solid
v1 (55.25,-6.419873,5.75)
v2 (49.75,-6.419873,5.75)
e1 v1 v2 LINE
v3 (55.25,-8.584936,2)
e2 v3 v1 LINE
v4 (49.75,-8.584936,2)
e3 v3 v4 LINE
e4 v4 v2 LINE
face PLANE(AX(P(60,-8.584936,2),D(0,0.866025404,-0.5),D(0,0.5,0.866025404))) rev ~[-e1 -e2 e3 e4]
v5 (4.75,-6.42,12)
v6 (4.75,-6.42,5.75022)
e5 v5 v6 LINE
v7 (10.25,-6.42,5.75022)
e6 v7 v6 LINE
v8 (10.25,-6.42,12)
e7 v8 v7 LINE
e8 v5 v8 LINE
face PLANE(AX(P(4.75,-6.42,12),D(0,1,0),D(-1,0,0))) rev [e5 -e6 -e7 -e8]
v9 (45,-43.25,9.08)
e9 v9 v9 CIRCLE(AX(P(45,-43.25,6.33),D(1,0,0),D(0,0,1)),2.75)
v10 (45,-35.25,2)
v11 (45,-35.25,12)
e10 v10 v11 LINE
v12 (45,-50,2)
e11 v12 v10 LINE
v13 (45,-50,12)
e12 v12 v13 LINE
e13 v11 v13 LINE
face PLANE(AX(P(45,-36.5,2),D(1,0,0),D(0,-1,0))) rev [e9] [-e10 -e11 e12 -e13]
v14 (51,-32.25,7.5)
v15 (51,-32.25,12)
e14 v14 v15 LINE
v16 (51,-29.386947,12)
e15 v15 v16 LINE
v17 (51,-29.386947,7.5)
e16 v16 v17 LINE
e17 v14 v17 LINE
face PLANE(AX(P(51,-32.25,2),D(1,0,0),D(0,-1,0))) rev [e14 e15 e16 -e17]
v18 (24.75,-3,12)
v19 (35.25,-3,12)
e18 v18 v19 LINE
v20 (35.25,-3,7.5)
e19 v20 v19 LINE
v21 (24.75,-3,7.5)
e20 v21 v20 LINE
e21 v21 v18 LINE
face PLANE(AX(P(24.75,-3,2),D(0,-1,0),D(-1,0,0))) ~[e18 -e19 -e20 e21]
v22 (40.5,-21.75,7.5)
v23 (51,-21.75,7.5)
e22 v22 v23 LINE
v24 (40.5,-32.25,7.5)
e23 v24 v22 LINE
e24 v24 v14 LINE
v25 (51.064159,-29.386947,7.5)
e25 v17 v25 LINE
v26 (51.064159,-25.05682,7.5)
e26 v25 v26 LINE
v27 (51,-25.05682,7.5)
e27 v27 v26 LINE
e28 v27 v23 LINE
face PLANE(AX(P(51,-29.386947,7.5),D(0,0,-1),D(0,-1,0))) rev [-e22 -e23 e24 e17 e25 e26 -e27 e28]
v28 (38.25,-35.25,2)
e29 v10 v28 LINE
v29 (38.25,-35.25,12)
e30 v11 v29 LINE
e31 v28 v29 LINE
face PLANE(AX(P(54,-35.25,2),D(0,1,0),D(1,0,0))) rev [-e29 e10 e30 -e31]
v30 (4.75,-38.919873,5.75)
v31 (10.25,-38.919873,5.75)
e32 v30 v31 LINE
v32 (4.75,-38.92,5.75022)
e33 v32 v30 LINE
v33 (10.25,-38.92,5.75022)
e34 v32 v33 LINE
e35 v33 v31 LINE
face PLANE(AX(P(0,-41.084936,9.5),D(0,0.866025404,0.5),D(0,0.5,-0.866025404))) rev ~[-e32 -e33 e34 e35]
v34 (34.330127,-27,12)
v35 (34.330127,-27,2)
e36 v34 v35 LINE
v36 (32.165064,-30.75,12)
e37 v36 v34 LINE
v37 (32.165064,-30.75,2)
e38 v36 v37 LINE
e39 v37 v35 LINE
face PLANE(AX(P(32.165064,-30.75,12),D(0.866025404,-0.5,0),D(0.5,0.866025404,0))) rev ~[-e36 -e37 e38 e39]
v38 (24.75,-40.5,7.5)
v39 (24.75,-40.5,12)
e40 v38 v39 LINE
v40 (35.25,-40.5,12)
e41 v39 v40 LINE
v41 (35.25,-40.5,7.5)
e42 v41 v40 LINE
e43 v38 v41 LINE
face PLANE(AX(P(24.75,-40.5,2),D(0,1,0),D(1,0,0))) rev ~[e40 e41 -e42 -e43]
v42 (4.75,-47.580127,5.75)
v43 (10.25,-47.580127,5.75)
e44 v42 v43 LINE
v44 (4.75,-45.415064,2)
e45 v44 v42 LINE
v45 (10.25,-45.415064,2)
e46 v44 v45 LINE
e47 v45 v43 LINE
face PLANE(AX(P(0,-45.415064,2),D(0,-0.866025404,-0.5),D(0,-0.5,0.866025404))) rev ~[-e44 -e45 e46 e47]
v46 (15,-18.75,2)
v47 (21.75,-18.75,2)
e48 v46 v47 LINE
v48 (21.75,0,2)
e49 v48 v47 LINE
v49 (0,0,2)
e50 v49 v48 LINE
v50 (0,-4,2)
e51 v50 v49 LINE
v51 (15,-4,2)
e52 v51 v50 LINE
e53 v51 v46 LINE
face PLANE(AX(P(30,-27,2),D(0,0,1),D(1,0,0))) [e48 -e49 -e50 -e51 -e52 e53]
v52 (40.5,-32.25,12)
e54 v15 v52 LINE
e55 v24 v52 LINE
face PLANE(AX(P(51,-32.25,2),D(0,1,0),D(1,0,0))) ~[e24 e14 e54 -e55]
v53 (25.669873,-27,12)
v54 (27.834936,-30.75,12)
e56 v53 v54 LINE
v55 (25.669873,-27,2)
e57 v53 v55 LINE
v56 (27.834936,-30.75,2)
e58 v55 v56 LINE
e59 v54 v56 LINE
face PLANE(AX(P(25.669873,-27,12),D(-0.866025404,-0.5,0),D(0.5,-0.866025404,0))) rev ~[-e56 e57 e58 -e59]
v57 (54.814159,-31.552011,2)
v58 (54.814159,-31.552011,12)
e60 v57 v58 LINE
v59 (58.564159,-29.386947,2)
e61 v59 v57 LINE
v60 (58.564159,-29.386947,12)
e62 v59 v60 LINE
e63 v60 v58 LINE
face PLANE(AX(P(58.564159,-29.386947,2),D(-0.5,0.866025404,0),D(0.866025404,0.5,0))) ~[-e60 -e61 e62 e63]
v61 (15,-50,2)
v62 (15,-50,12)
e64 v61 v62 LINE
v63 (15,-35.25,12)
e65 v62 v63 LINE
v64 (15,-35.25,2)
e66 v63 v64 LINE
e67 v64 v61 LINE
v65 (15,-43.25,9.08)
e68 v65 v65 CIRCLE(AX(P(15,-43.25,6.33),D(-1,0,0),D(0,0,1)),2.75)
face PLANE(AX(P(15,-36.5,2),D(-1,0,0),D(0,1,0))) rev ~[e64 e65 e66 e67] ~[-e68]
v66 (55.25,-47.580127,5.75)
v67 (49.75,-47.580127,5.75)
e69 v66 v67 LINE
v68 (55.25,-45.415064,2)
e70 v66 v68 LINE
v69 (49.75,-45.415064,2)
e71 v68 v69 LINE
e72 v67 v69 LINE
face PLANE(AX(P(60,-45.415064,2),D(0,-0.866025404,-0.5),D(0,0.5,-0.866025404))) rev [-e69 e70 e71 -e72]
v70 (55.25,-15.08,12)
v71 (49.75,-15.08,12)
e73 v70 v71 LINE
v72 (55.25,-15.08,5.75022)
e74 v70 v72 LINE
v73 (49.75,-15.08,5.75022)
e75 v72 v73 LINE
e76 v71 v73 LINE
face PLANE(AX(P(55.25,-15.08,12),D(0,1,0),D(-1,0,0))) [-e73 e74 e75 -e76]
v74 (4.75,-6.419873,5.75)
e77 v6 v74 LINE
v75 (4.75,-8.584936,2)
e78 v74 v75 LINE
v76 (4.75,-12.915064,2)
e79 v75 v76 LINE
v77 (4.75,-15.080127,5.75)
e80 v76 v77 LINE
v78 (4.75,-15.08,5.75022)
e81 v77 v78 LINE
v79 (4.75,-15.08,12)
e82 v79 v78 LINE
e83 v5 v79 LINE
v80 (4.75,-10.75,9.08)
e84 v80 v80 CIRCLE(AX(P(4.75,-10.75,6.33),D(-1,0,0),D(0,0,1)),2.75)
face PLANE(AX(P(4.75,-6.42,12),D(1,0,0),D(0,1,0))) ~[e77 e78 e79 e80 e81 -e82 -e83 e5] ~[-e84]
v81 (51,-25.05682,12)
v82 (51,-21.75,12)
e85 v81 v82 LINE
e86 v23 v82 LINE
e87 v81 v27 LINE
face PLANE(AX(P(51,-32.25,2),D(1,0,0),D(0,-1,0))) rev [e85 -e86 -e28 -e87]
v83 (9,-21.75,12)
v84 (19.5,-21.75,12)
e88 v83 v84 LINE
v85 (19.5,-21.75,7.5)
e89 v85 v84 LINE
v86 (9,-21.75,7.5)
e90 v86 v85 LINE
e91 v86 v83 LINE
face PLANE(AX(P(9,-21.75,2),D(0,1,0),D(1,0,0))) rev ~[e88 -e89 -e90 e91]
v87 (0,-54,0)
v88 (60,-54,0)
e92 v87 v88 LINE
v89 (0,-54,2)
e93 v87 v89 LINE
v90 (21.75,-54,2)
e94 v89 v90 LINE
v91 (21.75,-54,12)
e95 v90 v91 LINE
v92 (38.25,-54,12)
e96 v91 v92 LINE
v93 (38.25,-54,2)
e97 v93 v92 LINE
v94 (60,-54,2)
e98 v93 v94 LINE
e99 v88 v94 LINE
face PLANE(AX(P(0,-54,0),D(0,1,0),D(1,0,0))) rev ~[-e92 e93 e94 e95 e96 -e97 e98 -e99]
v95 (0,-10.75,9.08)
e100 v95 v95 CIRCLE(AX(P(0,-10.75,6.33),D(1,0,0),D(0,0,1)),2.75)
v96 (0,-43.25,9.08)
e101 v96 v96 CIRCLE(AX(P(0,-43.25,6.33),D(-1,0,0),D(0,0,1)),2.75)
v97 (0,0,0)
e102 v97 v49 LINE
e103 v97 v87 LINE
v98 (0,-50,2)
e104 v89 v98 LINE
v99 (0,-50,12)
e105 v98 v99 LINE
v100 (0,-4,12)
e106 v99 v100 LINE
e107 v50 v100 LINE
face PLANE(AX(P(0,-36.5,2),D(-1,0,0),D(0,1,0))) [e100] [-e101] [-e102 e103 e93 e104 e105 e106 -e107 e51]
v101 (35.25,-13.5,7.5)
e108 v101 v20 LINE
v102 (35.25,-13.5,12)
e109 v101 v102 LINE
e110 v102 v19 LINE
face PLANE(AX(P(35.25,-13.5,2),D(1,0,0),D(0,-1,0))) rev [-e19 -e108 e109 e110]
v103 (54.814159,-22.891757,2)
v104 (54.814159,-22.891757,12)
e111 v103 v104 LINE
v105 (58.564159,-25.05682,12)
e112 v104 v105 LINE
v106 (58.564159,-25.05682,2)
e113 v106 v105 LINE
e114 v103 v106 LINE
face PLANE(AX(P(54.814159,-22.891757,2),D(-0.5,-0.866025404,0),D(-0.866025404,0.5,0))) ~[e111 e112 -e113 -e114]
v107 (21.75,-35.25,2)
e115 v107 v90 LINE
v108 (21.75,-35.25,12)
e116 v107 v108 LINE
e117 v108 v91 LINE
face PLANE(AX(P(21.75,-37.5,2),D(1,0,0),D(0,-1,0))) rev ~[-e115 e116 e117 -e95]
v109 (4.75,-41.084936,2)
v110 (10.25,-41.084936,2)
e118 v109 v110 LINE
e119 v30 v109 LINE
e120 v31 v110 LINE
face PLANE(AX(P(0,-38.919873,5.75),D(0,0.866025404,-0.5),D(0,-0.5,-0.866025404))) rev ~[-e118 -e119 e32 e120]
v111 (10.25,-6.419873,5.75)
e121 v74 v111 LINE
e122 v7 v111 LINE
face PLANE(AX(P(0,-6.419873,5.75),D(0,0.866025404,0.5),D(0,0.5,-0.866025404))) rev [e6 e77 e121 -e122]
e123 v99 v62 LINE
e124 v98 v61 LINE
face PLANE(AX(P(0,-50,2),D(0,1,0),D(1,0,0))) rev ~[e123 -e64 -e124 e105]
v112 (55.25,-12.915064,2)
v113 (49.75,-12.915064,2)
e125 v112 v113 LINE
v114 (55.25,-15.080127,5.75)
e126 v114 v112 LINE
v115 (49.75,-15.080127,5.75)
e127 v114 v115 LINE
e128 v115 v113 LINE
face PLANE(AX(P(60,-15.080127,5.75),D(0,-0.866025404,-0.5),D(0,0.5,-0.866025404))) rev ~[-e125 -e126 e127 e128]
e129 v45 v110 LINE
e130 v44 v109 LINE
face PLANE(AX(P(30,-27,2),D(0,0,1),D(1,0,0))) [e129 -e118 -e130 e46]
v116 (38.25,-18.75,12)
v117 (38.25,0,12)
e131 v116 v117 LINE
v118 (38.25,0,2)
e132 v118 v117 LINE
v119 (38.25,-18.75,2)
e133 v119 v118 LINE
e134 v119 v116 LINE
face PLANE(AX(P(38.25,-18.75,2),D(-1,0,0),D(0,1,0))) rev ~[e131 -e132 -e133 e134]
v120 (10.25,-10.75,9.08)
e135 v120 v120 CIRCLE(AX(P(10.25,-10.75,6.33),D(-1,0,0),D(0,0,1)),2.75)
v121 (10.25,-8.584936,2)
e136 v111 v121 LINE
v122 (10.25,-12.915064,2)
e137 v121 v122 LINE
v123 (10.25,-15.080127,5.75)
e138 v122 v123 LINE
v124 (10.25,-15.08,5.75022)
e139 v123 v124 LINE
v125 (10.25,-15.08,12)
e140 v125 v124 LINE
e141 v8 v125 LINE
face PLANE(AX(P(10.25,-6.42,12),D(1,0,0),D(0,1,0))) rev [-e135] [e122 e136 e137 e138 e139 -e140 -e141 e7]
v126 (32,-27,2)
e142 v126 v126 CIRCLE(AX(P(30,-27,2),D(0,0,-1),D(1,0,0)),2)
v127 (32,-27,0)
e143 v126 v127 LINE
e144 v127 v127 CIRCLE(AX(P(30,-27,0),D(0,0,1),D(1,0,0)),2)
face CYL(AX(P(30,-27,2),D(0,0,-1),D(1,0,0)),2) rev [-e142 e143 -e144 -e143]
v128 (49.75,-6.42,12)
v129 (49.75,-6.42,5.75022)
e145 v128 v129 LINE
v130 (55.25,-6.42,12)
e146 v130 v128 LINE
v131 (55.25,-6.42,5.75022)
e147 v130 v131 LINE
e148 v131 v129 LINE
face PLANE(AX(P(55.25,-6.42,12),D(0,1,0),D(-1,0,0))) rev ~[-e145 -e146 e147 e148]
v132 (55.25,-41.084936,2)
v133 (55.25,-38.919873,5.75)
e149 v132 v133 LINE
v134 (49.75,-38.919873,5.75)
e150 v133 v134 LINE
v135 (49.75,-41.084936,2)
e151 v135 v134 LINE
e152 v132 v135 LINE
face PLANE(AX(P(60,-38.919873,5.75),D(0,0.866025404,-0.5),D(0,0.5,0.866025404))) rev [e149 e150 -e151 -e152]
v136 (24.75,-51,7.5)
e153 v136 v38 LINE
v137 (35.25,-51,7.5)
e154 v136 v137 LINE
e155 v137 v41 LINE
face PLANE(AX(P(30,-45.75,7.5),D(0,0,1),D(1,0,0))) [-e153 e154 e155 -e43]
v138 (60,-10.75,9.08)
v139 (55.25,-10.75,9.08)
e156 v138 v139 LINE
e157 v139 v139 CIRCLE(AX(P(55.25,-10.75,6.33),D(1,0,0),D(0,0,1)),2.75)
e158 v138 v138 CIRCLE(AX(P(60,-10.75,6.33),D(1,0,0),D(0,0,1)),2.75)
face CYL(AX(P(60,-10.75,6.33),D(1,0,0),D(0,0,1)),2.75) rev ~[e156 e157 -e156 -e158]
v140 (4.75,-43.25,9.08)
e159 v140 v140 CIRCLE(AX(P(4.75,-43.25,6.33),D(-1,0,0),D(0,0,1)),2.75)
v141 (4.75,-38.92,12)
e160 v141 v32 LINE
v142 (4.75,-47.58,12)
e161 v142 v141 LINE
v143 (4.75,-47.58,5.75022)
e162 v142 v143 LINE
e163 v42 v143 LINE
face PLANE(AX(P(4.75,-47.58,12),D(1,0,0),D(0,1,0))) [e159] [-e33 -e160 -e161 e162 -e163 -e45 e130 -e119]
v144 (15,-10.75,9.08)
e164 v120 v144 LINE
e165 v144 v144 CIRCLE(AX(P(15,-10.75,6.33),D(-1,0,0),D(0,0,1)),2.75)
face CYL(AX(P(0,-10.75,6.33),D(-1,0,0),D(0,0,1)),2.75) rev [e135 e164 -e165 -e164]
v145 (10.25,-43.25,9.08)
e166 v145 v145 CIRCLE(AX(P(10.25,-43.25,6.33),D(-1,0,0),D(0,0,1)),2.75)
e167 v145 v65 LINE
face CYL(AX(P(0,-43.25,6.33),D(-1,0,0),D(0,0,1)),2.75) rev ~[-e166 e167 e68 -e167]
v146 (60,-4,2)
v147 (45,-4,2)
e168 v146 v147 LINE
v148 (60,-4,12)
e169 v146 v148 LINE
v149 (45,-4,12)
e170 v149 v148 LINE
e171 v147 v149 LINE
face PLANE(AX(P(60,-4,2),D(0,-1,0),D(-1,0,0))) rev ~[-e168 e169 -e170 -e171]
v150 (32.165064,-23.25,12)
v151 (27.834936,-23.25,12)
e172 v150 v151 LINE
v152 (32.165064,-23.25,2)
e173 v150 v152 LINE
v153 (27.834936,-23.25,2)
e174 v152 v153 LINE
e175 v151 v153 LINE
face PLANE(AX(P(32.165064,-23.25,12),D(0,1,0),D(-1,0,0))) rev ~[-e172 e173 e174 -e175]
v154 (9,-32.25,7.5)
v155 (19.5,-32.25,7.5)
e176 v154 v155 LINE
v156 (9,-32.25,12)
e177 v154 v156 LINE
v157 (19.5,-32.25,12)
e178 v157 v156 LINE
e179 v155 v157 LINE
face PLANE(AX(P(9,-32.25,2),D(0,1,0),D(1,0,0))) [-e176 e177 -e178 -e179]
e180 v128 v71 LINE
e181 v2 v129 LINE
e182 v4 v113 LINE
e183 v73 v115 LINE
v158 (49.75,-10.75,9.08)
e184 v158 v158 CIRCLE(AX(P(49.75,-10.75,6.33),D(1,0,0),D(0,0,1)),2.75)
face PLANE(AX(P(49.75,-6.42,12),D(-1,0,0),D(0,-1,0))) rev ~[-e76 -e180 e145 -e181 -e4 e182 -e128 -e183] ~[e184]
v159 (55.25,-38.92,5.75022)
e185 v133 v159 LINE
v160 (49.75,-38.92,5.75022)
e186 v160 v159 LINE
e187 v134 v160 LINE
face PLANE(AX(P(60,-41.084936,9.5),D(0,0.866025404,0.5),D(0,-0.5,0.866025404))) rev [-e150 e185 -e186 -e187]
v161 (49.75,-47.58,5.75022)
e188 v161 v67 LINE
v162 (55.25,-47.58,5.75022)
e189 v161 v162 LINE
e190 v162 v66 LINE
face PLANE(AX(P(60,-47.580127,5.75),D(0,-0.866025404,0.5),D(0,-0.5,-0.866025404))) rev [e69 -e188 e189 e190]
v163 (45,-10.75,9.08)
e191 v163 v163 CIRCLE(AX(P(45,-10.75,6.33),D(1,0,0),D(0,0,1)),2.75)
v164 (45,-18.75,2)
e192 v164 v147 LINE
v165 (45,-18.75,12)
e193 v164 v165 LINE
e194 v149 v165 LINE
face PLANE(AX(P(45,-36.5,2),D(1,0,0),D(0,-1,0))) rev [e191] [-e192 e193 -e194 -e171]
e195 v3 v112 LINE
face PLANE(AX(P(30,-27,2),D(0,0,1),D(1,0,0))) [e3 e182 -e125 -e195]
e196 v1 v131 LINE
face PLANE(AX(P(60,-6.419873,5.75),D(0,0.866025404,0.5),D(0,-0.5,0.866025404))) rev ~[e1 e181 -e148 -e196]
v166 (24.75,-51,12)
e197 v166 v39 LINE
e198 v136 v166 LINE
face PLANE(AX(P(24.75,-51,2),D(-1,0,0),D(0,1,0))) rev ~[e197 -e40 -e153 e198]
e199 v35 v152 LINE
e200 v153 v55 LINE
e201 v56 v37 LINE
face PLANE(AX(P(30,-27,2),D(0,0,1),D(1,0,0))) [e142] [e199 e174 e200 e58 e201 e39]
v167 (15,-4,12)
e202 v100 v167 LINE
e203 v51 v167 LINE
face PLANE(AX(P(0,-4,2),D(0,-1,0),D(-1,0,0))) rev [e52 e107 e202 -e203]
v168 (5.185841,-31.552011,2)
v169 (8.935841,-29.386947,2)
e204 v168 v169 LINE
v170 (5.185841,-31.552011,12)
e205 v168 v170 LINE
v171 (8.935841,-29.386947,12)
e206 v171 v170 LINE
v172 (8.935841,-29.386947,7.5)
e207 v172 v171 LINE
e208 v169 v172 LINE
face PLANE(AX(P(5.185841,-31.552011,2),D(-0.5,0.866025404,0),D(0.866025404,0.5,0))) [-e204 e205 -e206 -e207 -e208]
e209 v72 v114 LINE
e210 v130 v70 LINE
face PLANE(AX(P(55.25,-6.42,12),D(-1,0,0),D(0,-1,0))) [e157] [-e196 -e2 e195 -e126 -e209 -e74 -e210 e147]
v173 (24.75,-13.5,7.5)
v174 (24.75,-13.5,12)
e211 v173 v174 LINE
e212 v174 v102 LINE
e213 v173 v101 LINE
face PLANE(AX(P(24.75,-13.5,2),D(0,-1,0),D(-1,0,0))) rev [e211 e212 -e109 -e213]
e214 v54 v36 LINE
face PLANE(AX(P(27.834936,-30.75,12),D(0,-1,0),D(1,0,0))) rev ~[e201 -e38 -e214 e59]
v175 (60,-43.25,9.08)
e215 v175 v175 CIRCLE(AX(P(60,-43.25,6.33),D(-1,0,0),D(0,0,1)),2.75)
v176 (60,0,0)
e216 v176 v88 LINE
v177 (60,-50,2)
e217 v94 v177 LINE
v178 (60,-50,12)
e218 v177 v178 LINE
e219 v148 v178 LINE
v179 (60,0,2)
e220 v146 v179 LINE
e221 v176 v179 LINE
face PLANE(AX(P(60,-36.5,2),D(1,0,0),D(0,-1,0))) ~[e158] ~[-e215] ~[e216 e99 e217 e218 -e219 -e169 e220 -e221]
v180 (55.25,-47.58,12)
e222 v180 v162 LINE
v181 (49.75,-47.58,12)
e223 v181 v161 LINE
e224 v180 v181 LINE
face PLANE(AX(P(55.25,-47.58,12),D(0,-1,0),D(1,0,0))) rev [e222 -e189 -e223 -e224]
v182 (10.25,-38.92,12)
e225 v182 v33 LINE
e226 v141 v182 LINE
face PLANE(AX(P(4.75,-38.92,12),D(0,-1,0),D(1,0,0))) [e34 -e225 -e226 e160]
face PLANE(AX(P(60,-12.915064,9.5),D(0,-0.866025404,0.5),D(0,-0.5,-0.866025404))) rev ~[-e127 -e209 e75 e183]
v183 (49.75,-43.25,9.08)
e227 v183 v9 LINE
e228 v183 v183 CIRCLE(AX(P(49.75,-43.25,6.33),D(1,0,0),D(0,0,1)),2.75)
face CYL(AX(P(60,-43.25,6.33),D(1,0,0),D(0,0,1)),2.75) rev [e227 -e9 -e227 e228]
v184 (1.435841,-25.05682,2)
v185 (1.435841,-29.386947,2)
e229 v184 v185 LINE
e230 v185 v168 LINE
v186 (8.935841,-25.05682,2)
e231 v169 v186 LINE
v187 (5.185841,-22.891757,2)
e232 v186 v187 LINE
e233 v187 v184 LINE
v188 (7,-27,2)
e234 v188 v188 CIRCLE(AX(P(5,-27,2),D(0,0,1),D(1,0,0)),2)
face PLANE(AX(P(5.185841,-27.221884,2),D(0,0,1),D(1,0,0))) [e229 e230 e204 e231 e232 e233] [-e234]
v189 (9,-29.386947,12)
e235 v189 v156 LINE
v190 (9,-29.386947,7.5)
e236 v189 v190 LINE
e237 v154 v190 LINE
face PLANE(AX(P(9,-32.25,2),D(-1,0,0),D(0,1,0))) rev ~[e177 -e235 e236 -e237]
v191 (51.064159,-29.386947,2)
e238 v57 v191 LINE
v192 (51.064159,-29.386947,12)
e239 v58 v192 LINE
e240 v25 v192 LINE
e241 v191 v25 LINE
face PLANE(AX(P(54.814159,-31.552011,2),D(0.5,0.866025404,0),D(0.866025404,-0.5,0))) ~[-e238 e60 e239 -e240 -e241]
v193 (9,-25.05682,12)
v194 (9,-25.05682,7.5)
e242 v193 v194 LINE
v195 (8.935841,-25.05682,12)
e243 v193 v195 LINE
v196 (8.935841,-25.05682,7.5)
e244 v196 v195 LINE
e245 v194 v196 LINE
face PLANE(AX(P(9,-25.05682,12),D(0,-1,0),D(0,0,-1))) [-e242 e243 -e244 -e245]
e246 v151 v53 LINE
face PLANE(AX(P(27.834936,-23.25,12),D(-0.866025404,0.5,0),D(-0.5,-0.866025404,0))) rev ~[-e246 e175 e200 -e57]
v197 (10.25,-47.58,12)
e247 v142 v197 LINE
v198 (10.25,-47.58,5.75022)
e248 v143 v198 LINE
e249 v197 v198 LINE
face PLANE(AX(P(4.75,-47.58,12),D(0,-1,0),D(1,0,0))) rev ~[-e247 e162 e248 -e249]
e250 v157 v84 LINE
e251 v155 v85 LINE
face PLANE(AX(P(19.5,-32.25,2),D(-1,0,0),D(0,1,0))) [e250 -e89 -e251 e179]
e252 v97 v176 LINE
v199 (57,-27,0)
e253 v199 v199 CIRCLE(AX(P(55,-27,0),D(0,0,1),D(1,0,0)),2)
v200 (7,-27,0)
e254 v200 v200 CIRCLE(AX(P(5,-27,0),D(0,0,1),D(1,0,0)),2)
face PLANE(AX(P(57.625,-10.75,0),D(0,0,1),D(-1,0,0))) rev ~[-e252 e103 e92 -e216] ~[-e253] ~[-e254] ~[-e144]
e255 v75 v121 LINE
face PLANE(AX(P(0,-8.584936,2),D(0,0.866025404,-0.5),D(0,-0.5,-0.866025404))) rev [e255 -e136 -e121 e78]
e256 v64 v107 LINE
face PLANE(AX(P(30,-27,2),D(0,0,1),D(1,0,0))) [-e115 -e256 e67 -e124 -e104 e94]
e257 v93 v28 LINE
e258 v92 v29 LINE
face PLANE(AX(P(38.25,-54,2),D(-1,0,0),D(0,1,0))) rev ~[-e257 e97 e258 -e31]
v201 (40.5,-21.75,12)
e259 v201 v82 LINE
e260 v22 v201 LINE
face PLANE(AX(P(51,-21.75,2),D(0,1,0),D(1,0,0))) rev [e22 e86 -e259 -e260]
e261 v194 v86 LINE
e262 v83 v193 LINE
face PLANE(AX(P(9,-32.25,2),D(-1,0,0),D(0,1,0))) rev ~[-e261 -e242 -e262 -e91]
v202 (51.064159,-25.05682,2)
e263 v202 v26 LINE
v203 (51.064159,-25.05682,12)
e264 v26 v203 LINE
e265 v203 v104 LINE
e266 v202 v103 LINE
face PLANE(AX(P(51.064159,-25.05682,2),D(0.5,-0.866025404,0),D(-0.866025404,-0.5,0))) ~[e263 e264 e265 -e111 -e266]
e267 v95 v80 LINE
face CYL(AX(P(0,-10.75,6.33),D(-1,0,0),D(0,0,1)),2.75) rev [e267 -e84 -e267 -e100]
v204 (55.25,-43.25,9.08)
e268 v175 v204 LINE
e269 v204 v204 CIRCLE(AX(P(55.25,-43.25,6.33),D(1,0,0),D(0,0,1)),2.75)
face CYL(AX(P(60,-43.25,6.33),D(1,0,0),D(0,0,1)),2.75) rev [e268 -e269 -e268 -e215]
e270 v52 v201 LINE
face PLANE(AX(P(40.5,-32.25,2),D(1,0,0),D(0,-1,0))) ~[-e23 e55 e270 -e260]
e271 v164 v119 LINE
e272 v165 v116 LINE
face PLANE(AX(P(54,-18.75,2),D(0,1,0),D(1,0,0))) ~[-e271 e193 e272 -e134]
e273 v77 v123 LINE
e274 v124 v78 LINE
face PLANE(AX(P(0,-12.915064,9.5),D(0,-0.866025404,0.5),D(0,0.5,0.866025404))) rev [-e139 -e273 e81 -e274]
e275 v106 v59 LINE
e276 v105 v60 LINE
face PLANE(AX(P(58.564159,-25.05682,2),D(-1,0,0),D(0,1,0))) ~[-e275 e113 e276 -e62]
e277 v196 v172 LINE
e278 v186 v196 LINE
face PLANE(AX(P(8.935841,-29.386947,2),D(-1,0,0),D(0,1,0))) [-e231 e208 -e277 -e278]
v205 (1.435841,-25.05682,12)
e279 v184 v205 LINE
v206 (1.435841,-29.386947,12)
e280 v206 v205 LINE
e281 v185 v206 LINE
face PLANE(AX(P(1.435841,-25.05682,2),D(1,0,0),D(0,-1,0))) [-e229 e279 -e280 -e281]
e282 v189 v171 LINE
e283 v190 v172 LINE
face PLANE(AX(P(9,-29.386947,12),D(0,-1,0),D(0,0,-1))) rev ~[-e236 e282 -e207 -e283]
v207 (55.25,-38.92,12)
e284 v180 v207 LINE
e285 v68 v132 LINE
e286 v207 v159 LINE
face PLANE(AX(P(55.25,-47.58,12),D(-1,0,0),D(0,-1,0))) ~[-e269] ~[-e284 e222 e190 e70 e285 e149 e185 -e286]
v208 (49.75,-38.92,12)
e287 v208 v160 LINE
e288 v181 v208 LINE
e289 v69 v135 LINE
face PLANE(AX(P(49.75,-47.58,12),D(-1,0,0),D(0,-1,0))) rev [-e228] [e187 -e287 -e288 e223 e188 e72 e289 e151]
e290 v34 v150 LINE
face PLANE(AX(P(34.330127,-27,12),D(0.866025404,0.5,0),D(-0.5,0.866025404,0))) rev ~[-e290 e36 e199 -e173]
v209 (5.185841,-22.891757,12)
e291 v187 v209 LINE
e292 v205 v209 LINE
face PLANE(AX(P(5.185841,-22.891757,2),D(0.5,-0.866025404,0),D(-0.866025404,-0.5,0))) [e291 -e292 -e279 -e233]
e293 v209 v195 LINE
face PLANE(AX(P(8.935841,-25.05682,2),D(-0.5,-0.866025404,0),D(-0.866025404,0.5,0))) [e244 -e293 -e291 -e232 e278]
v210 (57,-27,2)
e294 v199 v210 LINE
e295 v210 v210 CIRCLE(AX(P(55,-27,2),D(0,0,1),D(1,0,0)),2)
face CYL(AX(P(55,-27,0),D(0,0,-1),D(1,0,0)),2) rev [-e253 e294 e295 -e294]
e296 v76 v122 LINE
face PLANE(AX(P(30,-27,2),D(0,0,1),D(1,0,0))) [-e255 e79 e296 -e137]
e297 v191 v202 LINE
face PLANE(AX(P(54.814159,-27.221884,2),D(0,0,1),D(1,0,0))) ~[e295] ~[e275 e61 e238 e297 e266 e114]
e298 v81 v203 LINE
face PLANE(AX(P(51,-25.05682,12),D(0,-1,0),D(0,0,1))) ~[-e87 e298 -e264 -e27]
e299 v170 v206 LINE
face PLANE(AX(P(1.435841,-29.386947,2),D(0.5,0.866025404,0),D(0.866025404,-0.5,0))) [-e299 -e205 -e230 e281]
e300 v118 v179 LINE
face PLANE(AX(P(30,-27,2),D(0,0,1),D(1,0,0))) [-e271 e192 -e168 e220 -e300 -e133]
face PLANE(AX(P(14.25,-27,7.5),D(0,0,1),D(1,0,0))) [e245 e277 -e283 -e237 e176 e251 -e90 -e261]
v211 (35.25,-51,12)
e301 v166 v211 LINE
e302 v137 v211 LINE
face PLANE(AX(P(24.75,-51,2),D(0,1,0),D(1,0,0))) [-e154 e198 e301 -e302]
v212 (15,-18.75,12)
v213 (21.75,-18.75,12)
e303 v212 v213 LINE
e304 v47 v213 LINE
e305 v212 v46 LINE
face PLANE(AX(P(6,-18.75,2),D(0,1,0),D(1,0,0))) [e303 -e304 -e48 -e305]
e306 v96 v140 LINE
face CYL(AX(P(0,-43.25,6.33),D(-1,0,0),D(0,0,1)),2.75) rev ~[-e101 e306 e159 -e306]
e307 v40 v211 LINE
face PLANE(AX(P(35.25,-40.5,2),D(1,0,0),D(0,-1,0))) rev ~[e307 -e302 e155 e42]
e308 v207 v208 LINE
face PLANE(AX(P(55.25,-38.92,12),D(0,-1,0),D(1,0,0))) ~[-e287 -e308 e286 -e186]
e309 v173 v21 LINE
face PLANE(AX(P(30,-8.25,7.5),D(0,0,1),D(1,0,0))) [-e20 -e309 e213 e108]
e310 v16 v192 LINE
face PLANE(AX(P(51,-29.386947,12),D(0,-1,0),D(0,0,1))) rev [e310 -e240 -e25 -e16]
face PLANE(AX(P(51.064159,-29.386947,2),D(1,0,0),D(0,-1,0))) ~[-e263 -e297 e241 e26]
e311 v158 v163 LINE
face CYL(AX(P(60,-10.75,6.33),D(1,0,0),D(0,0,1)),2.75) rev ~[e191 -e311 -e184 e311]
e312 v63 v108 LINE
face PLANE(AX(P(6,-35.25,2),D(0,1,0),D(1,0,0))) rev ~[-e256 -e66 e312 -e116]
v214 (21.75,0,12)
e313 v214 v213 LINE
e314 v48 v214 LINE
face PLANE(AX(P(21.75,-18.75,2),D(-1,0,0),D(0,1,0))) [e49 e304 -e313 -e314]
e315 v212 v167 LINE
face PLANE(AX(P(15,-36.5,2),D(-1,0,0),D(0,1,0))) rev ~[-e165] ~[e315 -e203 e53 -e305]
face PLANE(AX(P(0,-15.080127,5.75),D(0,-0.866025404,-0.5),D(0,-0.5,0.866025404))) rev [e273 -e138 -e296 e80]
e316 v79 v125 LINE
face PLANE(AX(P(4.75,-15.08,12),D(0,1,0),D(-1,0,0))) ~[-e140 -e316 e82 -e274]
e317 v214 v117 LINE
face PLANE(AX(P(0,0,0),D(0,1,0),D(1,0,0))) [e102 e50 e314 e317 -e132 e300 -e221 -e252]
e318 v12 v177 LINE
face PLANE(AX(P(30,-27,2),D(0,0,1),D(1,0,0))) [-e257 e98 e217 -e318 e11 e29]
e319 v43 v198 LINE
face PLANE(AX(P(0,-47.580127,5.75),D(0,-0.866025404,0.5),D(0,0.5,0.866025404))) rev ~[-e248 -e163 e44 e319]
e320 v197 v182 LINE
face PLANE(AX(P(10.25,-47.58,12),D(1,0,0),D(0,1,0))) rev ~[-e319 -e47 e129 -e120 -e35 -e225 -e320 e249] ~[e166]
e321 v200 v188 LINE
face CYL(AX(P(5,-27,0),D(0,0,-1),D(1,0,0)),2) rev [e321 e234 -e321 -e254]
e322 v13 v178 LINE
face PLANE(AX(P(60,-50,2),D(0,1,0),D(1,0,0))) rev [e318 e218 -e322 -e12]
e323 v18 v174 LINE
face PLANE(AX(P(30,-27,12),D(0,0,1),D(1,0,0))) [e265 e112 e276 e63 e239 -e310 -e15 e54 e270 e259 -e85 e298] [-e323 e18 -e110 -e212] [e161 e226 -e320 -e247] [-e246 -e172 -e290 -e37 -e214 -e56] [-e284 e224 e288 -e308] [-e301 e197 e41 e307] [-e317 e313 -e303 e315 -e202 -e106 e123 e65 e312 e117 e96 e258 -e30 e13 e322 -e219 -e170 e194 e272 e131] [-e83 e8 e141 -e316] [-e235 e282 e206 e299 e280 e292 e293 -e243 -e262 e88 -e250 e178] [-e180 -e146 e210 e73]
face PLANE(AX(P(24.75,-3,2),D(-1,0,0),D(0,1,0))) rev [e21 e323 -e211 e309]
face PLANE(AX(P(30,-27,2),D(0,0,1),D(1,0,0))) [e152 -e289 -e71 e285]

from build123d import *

# Parameters (mm, degrees)
ESQUISSE1_W               = 60
ESQUISSE1_H               = 54
ESQUISSE1_R               = 2
BOSS_EXTRU_1_DEPTH        = 2
ESQUISSE2_W               = 15
ESQUISSE2_H               = 13.5
BOSS_EXTRU_2_DEPTH        = 10
ENL_V_MAT_EXTRU_2_DEPTH   = 16
ESQUISSE5_W               = 4.75
ESQUISSE5_H               = 13.5
BOSS_EXTRU_3_DEPTH        = 12
ESQUISSE6_W               = 5.5
ESQUISSE6_H               = 8.66
ENL_V_MAT_EXTRU_3_DEPTH   = 6.25
ESQUISSE7_R               = 2.75
ENL_V_MAT_EXTRU_4_DEPTH   = 28
SYM_TRIE2_COPY_1_SKETCH_W = 15
SYM_TRIE2_COPY_1_SKETCH_H = 13.5
SYM_TRIE2_COPY_1_DEPTH    = 10
SYM_TRIE2_COPY_2_DEPTH    = 16
SYM_TRIE2_COPY_3_SKETCH_W = 4.75
SYM_TRIE2_COPY_3_SKETCH_H = 13.5
SYM_TRIE2_COPY_3_DEPTH    = 12
SYM_TRIE2_COPY_4_SKETCH_W = 5.5
SYM_TRIE2_COPY_4_SKETCH_H = 8.66
SYM_TRIE2_COPY_4_DEPTH    = 6.25
SYM_TRIE2_COPY_5_SKETCH_R = 2.75
SYM_TRIE2_COPY_5_DEPTH    = 28
ESQUISSE8_W               = 10.5
ESQUISSE8_H               = 3
BOSS_EXTRU_4_DEPTH        = 10
ESQUISSE12_W              = 15
ESQUISSE12_H              = 19
BOSS_EXTRU_6_DEPTH        = 10
ESQUISSE9_W               = 16.5
ESQUISSE9_H               = 16.5
ESQUISSE9_W_2             = 10.5
ESQUISSE9_H_2             = 10.5
BOSS_EXTRU_7_DEPTH        = 10
ENL_V_MAT_EXTRU_6_DEPTH   = 21
ESQUISSE13_W              = 10.5
ESQUISSE13_H              = 10.5
ENL_V_MAT_EXTRU_7_DEPTH   = 21
ESQUISSE15_R              = 2
ESQUISSE15_W              = 0.75
ESQUISSE15_H              = 2.25
BOSS_EXTRU_9_DEPTH        = 10
ENL_V_MAT_EXTRU_8_DEPTH   = 10
ESQUISSE17_W              = 10.5
ESQUISSE17_H              = 10.5
BOSS_EXTRU_10_DEPTH       = 5.5
ESQUISSE18_W              = 4.5
ESQUISSE18_H              = 4.330127019
ENL_V_MAT_EXTRU_9_DEPTH   = 1.5


with BuildPart() as part:
    # Esquisse1 → Boss.-Extru.1 (new body)
    with BuildSketch(Plane.XY):
        with Locations((30, -27)):
            Rectangle(ESQUISSE1_W, ESQUISSE1_H)
        with Locations((5, -27)):
            Circle(ESQUISSE1_R, mode=Mode.SUBTRACT)
        with Locations((30, -27)):
            Circle(ESQUISSE1_R, mode=Mode.SUBTRACT)
        with Locations((55, -27)):
            Circle(ESQUISSE1_R, mode=Mode.SUBTRACT)
    extrude(amount=BOSS_EXTRU_1_DEPTH)

    # Esquisse2 → Boss.-Extru.2 (add)
    with BuildSketch(Plane.XY.offset(2)):
        with Locations((7.5, -43.25)):
            Rectangle(ESQUISSE2_W, ESQUISSE2_H)
    boss_extru_2 = extrude(amount=BOSS_EXTRU_2_DEPTH)

    # Esquisse4 → Enlèv. mat.-Extru.2 (cut)
    with BuildSketch(Plane.ZY):
        Polygon((9.5, -45.415063509), (9.5, -41.084936491), (5.75, -38.919872981), (2, -41.084936491), (2, -45.415063509), (5.75, -47.580127019), align=None)
    enl_v_mat_extru_2 = extrude(amount=-ENL_V_MAT_EXTRU_2_DEPTH, mode=Mode.SUBTRACT)

    # Esquisse5 → Boss.-Extru.3 (add)
    with BuildSketch(Plane.XY.offset(12)):
        with Locations((2.375, -43.25)):
            Rectangle(ESQUISSE5_W, ESQUISSE5_H)
        with Locations((12.625, -43.25)):
            Rectangle(ESQUISSE5_W, ESQUISSE5_H)
    boss_extru_3 = extrude(amount=-BOSS_EXTRU_3_DEPTH)

    # Esquisse6 → Enlèv. mat.-Extru.3 (cut)
    with BuildSketch(Plane.XY.offset(12)):
        with Locations((7.5, -43.25)):
            Rectangle(ESQUISSE6_W, ESQUISSE6_H)
    enl_v_mat_extru_3 = extrude(amount=-ENL_V_MAT_EXTRU_3_DEPTH, mode=Mode.SUBTRACT)

    # Esquisse7 → Enlèv. mat.-Extru.4 (cut)
    with BuildSketch(Plane.ZY):
        with Locations((6.33, -43.25)):
            Circle(ESQUISSE7_R)
    enl_v_mat_extru_4 = extrude(amount=-ENL_V_MAT_EXTRU_4_DEPTH, mode=Mode.SUBTRACT)

    # Symétrie1: Boss.-Extru.2, Enlèv. mat.-Extru.2, Boss.-Extru.3, Enlèv. mat.-Extru.3, Enlèv. mat.-Extru.4 across plane
    add(boss_extru_2.mirror(Plane(origin=(0, -27, 0), x_dir=(0, 0, 1), z_dir=(0, -1, 0))))
    add(enl_v_mat_extru_2.mirror(Plane(origin=(0, -27, 0), x_dir=(0, 0, 1), z_dir=(0, -1, 0))), mode=Mode.SUBTRACT)
    add(boss_extru_3.mirror(Plane(origin=(0, -27, 0), x_dir=(0, 0, 1), z_dir=(0, -1, 0))))
    add(enl_v_mat_extru_3.mirror(Plane(origin=(0, -27, 0), x_dir=(0, 0, 1), z_dir=(0, -1, 0))), mode=Mode.SUBTRACT)
    add(enl_v_mat_extru_4.mirror(Plane(origin=(0, -27, 0), x_dir=(0, 0, 1), z_dir=(0, -1, 0))), mode=Mode.SUBTRACT)

    # Symétrie2: Boss.-Extru.2, Enlèv. mat.-Extru.2, Boss.-Extru.3, Enlèv. mat.-Extru.3, Enlèv. mat.-Extru.4 across plane
    add(boss_extru_2.mirror(Plane.ZY.offset(-30)))
    add(enl_v_mat_extru_2.mirror(Plane.ZY.offset(-30)), mode=Mode.SUBTRACT)
    add(boss_extru_3.mirror(Plane.ZY.offset(-30)))
    add(enl_v_mat_extru_3.mirror(Plane.ZY.offset(-30)), mode=Mode.SUBTRACT)
    add(enl_v_mat_extru_4.mirror(Plane.ZY.offset(-30)), mode=Mode.SUBTRACT)

    # Symétrie2 copy 1 sketch → Symétrie2 copy 1 (add)
    with BuildSketch(Plane(origin=(60, -54, 2), x_dir=(-1, 0, 0), z_dir=(0, 0, 1))):
        with Locations((7.5, -43.25)):
            Rectangle(SYM_TRIE2_COPY_1_SKETCH_W, SYM_TRIE2_COPY_1_SKETCH_H)
    extrude(amount=SYM_TRIE2_COPY_1_DEPTH)

    # Symétrie2 copy 2 sketch → Symétrie2 copy 2 (cut)
    with BuildSketch(Plane(origin=(60, -54, 0), x_dir=(0, 0, 1), z_dir=(1, 0, 0))):
        Polygon((9.5, -45.415063509), (9.5, -41.084936491), (5.75, -38.919872981), (2, -41.084936491), (2, -45.415063509), (5.75, -47.580127019), align=None)
    extrude(amount=-SYM_TRIE2_COPY_2_DEPTH, mode=Mode.SUBTRACT)

    # Symétrie2 copy 3 sketch → Symétrie2 copy 3 (add)
    with BuildSketch(Plane(origin=(60, -54, 12), x_dir=(-1, 0, 0), z_dir=(0, 0, 1))):
        with Locations((2.375, -43.25)):
            Rectangle(SYM_TRIE2_COPY_3_SKETCH_W, SYM_TRIE2_COPY_3_SKETCH_H)
        with Locations((12.625, -43.25)):
            Rectangle(SYM_TRIE2_COPY_3_SKETCH_W, SYM_TRIE2_COPY_3_SKETCH_H)
    extrude(amount=-SYM_TRIE2_COPY_3_DEPTH)

    # Symétrie2 copy 4 sketch → Symétrie2 copy 4 (cut)
    with BuildSketch(Plane(origin=(60, -54, 12), x_dir=(-1, 0, 0), z_dir=(0, 0, 1))):
        with Locations((7.5, -43.25)):
            Rectangle(SYM_TRIE2_COPY_4_SKETCH_W, SYM_TRIE2_COPY_4_SKETCH_H)
    extrude(amount=-SYM_TRIE2_COPY_4_DEPTH, mode=Mode.SUBTRACT)

    # Symétrie2 copy 5 sketch → Symétrie2 copy 5 (cut)
    with BuildSketch(Plane(origin=(60, -54, 0), x_dir=(0, 0, 1), z_dir=(1, 0, 0))):
        with Locations((6.33, -43.25)):
            Circle(SYM_TRIE2_COPY_5_SKETCH_R)
    extrude(amount=-SYM_TRIE2_COPY_5_DEPTH, mode=Mode.SUBTRACT)

    # Esquisse8 → Boss.-Extru.4 (add)
    with BuildSketch(Plane.XY.offset(2)):
        Polygon((35.25, -51), (35.25, -54), (38.25, -54), (38.25, -37.5), (21.75, -37.5), (21.75, -54), (24.75, -54), (24.75, -51), (24.75, -40.5), (35.25, -40.5), align=None)
        with Locations((30, -52.5)):
            Rectangle(ESQUISSE8_W, ESQUISSE8_H)
    boss_extru_4 = extrude(amount=BOSS_EXTRU_4_DEPTH)

    # Esquisse12 → Boss.-Extru.6 (add)
    with BuildSketch(Plane.XY.offset(2)):
        with Locations((7.5, -27)):
            Rectangle(ESQUISSE12_W, ESQUISSE12_H)
    boss_extru_6 = extrude(amount=BOSS_EXTRU_6_DEPTH)

    # Esquisse9 → Boss.-Extru.7 (add)
    with BuildSketch(Plane.XY.offset(2)):
        with Locations((14.25, -27)):
            Rectangle(ESQUISSE9_W, ESQUISSE9_H)
        with Locations((14.25, -27)):
            Rectangle(ESQUISSE9_W_2, ESQUISSE9_H_2, mode=Mode.SUBTRACT)
    boss_extru_7 = extrude(amount=BOSS_EXTRU_7_DEPTH)

    # Esquisse11 → Enlèv. mat.-Extru.6 (cut)
    with BuildSketch(Plane.XY.offset(2)):
        Polygon((8.935840957, -29.386947115), (8.935840957, -25.056820096), (5.185840957, -22.891756586), (1.435840957, -25.056820096), (1.435840957, -29.386947115), (5.185840957, -31.552010624), align=None)
    enl_v_mat_extru_6 = extrude(amount=ENL_V_MAT_EXTRU_6_DEPTH, mode=Mode.SUBTRACT)

    # Esquisse13 → Enlèv. mat.-Extru.7 (cut)
    with BuildSketch(Plane.XY.offset(2)):
        with Locations((14.25, -27)):
            Rectangle(ESQUISSE13_W, ESQUISSE13_H)
    enl_v_mat_extru_7 = extrude(amount=ENL_V_MAT_EXTRU_7_DEPTH, mode=Mode.SUBTRACT)

    # Symétrie3: Boss.-Extru.6, Boss.-Extru.7, Enlèv. mat.-Extru.6, Enlèv. mat.-Extru.7 across plane
    add(boss_extru_6.mirror(Plane.ZY.offset(-30)))
    add(boss_extru_7.mirror(Plane.ZY.offset(-30)))
    add(enl_v_mat_extru_6.mirror(Plane.ZY.offset(-30)), mode=Mode.SUBTRACT)
    add(enl_v_mat_extru_7.mirror(Plane.ZY.offset(-30)), mode=Mode.SUBTRACT)

    # Symétrie4: Boss.-Extru.4 across plane
    add(boss_extru_4.mirror(Plane(origin=(0, -27, 0), x_dir=(0, 0, 1), z_dir=(0, -1, 0))))

    # Esquisse15 → Boss.-Extru.9 (add)
    # profile 1 of 5: a face of its own
    with BuildSketch(Plane.XY.offset(2)):
        Polygon((22.5, -35.25), (22.5, -37.5), (37.5, -37.5), (37.5, -35.25), (37.5, -18.75), (37.5, -16.5), (22.5, -16.5), (22.5, -18.75), align=None)
        with Locations((30, -27)):
            Circle(ESQUISSE15_R, mode=Mode.SUBTRACT)
    # profile 2 of 5: a face of its own
    with BuildSketch(Plane.XY.offset(2)):
        with Locations((22.125, -36.375)):
            Rectangle(ESQUISSE15_W, ESQUISSE15_H)
    # profile 3 of 5: a face of its own
    with BuildSketch(Plane.XY.offset(2)):
        with Locations((37.875, -36.375)):
            Rectangle(ESQUISSE15_W, ESQUISSE15_H)
    # profile 4 of 5: a face of its own
    with BuildSketch(Plane.XY.offset(2)):
        with Locations((37.875, -17.625)):
            Rectangle(ESQUISSE15_W, ESQUISSE15_H)
    # profile 5 of 5: a face of its own
    with BuildSketch(Plane.XY.offset(2)):
        with Locations((22.125, -17.625)):
            Rectangle(ESQUISSE15_W, ESQUISSE15_H)
    extrude(amount=BOSS_EXTRU_9_DEPTH)

    # Esquisse16 → Enlèv. mat.-Extru.8 (cut)
    with BuildSketch(Plane.XY.offset(12)):
        Polygon((32.165063509, -23.25), (27.834936491, -23.25), (25.669872981, -27), (27.834936491, -30.75), (32.165063509, -30.75), (34.330127019, -27), align=None)
    extrude(amount=-ENL_V_MAT_EXTRU_8_DEPTH, mode=Mode.SUBTRACT)

    # Esquisse17 → Boss.-Extru.10 (add)
    with BuildSketch(Plane.XY.offset(2)):
        with Locations((14.25, -27)):
            Rectangle(ESQUISSE17_W, ESQUISSE17_H)
        with Locations((45.75, -27)):
            Rectangle(ESQUISSE17_W, ESQUISSE17_H)
        with Locations((30, -8.25)):
            Rectangle(ESQUISSE17_W, ESQUISSE17_H)
        with Locations((30, -45.75)):
            Rectangle(ESQUISSE17_W, ESQUISSE17_H)
    extrude(amount=BOSS_EXTRU_10_DEPTH)

    # Esquisse18 → Enlèv. mat.-Extru.9 (cut)
    with BuildSketch(Plane(origin=(9, 0, 0), x_dir=(0, 0, -1), z_dir=(1, 0, 0))):
        with Locations((-9.75, -27.221883606)):
            Rectangle(ESQUISSE18_W, ESQUISSE18_H)
    enl_v_mat_extru_9 = extrude(amount=-ENL_V_MAT_EXTRU_9_DEPTH, mode=Mode.SUBTRACT)

    # Symétrie5: Enlèv. mat.-Extru.9 across plane
    add(enl_v_mat_extru_9.mirror(Plane.ZY.offset(-30)), mode=Mode.SUBTRACT)


solid = part.part
